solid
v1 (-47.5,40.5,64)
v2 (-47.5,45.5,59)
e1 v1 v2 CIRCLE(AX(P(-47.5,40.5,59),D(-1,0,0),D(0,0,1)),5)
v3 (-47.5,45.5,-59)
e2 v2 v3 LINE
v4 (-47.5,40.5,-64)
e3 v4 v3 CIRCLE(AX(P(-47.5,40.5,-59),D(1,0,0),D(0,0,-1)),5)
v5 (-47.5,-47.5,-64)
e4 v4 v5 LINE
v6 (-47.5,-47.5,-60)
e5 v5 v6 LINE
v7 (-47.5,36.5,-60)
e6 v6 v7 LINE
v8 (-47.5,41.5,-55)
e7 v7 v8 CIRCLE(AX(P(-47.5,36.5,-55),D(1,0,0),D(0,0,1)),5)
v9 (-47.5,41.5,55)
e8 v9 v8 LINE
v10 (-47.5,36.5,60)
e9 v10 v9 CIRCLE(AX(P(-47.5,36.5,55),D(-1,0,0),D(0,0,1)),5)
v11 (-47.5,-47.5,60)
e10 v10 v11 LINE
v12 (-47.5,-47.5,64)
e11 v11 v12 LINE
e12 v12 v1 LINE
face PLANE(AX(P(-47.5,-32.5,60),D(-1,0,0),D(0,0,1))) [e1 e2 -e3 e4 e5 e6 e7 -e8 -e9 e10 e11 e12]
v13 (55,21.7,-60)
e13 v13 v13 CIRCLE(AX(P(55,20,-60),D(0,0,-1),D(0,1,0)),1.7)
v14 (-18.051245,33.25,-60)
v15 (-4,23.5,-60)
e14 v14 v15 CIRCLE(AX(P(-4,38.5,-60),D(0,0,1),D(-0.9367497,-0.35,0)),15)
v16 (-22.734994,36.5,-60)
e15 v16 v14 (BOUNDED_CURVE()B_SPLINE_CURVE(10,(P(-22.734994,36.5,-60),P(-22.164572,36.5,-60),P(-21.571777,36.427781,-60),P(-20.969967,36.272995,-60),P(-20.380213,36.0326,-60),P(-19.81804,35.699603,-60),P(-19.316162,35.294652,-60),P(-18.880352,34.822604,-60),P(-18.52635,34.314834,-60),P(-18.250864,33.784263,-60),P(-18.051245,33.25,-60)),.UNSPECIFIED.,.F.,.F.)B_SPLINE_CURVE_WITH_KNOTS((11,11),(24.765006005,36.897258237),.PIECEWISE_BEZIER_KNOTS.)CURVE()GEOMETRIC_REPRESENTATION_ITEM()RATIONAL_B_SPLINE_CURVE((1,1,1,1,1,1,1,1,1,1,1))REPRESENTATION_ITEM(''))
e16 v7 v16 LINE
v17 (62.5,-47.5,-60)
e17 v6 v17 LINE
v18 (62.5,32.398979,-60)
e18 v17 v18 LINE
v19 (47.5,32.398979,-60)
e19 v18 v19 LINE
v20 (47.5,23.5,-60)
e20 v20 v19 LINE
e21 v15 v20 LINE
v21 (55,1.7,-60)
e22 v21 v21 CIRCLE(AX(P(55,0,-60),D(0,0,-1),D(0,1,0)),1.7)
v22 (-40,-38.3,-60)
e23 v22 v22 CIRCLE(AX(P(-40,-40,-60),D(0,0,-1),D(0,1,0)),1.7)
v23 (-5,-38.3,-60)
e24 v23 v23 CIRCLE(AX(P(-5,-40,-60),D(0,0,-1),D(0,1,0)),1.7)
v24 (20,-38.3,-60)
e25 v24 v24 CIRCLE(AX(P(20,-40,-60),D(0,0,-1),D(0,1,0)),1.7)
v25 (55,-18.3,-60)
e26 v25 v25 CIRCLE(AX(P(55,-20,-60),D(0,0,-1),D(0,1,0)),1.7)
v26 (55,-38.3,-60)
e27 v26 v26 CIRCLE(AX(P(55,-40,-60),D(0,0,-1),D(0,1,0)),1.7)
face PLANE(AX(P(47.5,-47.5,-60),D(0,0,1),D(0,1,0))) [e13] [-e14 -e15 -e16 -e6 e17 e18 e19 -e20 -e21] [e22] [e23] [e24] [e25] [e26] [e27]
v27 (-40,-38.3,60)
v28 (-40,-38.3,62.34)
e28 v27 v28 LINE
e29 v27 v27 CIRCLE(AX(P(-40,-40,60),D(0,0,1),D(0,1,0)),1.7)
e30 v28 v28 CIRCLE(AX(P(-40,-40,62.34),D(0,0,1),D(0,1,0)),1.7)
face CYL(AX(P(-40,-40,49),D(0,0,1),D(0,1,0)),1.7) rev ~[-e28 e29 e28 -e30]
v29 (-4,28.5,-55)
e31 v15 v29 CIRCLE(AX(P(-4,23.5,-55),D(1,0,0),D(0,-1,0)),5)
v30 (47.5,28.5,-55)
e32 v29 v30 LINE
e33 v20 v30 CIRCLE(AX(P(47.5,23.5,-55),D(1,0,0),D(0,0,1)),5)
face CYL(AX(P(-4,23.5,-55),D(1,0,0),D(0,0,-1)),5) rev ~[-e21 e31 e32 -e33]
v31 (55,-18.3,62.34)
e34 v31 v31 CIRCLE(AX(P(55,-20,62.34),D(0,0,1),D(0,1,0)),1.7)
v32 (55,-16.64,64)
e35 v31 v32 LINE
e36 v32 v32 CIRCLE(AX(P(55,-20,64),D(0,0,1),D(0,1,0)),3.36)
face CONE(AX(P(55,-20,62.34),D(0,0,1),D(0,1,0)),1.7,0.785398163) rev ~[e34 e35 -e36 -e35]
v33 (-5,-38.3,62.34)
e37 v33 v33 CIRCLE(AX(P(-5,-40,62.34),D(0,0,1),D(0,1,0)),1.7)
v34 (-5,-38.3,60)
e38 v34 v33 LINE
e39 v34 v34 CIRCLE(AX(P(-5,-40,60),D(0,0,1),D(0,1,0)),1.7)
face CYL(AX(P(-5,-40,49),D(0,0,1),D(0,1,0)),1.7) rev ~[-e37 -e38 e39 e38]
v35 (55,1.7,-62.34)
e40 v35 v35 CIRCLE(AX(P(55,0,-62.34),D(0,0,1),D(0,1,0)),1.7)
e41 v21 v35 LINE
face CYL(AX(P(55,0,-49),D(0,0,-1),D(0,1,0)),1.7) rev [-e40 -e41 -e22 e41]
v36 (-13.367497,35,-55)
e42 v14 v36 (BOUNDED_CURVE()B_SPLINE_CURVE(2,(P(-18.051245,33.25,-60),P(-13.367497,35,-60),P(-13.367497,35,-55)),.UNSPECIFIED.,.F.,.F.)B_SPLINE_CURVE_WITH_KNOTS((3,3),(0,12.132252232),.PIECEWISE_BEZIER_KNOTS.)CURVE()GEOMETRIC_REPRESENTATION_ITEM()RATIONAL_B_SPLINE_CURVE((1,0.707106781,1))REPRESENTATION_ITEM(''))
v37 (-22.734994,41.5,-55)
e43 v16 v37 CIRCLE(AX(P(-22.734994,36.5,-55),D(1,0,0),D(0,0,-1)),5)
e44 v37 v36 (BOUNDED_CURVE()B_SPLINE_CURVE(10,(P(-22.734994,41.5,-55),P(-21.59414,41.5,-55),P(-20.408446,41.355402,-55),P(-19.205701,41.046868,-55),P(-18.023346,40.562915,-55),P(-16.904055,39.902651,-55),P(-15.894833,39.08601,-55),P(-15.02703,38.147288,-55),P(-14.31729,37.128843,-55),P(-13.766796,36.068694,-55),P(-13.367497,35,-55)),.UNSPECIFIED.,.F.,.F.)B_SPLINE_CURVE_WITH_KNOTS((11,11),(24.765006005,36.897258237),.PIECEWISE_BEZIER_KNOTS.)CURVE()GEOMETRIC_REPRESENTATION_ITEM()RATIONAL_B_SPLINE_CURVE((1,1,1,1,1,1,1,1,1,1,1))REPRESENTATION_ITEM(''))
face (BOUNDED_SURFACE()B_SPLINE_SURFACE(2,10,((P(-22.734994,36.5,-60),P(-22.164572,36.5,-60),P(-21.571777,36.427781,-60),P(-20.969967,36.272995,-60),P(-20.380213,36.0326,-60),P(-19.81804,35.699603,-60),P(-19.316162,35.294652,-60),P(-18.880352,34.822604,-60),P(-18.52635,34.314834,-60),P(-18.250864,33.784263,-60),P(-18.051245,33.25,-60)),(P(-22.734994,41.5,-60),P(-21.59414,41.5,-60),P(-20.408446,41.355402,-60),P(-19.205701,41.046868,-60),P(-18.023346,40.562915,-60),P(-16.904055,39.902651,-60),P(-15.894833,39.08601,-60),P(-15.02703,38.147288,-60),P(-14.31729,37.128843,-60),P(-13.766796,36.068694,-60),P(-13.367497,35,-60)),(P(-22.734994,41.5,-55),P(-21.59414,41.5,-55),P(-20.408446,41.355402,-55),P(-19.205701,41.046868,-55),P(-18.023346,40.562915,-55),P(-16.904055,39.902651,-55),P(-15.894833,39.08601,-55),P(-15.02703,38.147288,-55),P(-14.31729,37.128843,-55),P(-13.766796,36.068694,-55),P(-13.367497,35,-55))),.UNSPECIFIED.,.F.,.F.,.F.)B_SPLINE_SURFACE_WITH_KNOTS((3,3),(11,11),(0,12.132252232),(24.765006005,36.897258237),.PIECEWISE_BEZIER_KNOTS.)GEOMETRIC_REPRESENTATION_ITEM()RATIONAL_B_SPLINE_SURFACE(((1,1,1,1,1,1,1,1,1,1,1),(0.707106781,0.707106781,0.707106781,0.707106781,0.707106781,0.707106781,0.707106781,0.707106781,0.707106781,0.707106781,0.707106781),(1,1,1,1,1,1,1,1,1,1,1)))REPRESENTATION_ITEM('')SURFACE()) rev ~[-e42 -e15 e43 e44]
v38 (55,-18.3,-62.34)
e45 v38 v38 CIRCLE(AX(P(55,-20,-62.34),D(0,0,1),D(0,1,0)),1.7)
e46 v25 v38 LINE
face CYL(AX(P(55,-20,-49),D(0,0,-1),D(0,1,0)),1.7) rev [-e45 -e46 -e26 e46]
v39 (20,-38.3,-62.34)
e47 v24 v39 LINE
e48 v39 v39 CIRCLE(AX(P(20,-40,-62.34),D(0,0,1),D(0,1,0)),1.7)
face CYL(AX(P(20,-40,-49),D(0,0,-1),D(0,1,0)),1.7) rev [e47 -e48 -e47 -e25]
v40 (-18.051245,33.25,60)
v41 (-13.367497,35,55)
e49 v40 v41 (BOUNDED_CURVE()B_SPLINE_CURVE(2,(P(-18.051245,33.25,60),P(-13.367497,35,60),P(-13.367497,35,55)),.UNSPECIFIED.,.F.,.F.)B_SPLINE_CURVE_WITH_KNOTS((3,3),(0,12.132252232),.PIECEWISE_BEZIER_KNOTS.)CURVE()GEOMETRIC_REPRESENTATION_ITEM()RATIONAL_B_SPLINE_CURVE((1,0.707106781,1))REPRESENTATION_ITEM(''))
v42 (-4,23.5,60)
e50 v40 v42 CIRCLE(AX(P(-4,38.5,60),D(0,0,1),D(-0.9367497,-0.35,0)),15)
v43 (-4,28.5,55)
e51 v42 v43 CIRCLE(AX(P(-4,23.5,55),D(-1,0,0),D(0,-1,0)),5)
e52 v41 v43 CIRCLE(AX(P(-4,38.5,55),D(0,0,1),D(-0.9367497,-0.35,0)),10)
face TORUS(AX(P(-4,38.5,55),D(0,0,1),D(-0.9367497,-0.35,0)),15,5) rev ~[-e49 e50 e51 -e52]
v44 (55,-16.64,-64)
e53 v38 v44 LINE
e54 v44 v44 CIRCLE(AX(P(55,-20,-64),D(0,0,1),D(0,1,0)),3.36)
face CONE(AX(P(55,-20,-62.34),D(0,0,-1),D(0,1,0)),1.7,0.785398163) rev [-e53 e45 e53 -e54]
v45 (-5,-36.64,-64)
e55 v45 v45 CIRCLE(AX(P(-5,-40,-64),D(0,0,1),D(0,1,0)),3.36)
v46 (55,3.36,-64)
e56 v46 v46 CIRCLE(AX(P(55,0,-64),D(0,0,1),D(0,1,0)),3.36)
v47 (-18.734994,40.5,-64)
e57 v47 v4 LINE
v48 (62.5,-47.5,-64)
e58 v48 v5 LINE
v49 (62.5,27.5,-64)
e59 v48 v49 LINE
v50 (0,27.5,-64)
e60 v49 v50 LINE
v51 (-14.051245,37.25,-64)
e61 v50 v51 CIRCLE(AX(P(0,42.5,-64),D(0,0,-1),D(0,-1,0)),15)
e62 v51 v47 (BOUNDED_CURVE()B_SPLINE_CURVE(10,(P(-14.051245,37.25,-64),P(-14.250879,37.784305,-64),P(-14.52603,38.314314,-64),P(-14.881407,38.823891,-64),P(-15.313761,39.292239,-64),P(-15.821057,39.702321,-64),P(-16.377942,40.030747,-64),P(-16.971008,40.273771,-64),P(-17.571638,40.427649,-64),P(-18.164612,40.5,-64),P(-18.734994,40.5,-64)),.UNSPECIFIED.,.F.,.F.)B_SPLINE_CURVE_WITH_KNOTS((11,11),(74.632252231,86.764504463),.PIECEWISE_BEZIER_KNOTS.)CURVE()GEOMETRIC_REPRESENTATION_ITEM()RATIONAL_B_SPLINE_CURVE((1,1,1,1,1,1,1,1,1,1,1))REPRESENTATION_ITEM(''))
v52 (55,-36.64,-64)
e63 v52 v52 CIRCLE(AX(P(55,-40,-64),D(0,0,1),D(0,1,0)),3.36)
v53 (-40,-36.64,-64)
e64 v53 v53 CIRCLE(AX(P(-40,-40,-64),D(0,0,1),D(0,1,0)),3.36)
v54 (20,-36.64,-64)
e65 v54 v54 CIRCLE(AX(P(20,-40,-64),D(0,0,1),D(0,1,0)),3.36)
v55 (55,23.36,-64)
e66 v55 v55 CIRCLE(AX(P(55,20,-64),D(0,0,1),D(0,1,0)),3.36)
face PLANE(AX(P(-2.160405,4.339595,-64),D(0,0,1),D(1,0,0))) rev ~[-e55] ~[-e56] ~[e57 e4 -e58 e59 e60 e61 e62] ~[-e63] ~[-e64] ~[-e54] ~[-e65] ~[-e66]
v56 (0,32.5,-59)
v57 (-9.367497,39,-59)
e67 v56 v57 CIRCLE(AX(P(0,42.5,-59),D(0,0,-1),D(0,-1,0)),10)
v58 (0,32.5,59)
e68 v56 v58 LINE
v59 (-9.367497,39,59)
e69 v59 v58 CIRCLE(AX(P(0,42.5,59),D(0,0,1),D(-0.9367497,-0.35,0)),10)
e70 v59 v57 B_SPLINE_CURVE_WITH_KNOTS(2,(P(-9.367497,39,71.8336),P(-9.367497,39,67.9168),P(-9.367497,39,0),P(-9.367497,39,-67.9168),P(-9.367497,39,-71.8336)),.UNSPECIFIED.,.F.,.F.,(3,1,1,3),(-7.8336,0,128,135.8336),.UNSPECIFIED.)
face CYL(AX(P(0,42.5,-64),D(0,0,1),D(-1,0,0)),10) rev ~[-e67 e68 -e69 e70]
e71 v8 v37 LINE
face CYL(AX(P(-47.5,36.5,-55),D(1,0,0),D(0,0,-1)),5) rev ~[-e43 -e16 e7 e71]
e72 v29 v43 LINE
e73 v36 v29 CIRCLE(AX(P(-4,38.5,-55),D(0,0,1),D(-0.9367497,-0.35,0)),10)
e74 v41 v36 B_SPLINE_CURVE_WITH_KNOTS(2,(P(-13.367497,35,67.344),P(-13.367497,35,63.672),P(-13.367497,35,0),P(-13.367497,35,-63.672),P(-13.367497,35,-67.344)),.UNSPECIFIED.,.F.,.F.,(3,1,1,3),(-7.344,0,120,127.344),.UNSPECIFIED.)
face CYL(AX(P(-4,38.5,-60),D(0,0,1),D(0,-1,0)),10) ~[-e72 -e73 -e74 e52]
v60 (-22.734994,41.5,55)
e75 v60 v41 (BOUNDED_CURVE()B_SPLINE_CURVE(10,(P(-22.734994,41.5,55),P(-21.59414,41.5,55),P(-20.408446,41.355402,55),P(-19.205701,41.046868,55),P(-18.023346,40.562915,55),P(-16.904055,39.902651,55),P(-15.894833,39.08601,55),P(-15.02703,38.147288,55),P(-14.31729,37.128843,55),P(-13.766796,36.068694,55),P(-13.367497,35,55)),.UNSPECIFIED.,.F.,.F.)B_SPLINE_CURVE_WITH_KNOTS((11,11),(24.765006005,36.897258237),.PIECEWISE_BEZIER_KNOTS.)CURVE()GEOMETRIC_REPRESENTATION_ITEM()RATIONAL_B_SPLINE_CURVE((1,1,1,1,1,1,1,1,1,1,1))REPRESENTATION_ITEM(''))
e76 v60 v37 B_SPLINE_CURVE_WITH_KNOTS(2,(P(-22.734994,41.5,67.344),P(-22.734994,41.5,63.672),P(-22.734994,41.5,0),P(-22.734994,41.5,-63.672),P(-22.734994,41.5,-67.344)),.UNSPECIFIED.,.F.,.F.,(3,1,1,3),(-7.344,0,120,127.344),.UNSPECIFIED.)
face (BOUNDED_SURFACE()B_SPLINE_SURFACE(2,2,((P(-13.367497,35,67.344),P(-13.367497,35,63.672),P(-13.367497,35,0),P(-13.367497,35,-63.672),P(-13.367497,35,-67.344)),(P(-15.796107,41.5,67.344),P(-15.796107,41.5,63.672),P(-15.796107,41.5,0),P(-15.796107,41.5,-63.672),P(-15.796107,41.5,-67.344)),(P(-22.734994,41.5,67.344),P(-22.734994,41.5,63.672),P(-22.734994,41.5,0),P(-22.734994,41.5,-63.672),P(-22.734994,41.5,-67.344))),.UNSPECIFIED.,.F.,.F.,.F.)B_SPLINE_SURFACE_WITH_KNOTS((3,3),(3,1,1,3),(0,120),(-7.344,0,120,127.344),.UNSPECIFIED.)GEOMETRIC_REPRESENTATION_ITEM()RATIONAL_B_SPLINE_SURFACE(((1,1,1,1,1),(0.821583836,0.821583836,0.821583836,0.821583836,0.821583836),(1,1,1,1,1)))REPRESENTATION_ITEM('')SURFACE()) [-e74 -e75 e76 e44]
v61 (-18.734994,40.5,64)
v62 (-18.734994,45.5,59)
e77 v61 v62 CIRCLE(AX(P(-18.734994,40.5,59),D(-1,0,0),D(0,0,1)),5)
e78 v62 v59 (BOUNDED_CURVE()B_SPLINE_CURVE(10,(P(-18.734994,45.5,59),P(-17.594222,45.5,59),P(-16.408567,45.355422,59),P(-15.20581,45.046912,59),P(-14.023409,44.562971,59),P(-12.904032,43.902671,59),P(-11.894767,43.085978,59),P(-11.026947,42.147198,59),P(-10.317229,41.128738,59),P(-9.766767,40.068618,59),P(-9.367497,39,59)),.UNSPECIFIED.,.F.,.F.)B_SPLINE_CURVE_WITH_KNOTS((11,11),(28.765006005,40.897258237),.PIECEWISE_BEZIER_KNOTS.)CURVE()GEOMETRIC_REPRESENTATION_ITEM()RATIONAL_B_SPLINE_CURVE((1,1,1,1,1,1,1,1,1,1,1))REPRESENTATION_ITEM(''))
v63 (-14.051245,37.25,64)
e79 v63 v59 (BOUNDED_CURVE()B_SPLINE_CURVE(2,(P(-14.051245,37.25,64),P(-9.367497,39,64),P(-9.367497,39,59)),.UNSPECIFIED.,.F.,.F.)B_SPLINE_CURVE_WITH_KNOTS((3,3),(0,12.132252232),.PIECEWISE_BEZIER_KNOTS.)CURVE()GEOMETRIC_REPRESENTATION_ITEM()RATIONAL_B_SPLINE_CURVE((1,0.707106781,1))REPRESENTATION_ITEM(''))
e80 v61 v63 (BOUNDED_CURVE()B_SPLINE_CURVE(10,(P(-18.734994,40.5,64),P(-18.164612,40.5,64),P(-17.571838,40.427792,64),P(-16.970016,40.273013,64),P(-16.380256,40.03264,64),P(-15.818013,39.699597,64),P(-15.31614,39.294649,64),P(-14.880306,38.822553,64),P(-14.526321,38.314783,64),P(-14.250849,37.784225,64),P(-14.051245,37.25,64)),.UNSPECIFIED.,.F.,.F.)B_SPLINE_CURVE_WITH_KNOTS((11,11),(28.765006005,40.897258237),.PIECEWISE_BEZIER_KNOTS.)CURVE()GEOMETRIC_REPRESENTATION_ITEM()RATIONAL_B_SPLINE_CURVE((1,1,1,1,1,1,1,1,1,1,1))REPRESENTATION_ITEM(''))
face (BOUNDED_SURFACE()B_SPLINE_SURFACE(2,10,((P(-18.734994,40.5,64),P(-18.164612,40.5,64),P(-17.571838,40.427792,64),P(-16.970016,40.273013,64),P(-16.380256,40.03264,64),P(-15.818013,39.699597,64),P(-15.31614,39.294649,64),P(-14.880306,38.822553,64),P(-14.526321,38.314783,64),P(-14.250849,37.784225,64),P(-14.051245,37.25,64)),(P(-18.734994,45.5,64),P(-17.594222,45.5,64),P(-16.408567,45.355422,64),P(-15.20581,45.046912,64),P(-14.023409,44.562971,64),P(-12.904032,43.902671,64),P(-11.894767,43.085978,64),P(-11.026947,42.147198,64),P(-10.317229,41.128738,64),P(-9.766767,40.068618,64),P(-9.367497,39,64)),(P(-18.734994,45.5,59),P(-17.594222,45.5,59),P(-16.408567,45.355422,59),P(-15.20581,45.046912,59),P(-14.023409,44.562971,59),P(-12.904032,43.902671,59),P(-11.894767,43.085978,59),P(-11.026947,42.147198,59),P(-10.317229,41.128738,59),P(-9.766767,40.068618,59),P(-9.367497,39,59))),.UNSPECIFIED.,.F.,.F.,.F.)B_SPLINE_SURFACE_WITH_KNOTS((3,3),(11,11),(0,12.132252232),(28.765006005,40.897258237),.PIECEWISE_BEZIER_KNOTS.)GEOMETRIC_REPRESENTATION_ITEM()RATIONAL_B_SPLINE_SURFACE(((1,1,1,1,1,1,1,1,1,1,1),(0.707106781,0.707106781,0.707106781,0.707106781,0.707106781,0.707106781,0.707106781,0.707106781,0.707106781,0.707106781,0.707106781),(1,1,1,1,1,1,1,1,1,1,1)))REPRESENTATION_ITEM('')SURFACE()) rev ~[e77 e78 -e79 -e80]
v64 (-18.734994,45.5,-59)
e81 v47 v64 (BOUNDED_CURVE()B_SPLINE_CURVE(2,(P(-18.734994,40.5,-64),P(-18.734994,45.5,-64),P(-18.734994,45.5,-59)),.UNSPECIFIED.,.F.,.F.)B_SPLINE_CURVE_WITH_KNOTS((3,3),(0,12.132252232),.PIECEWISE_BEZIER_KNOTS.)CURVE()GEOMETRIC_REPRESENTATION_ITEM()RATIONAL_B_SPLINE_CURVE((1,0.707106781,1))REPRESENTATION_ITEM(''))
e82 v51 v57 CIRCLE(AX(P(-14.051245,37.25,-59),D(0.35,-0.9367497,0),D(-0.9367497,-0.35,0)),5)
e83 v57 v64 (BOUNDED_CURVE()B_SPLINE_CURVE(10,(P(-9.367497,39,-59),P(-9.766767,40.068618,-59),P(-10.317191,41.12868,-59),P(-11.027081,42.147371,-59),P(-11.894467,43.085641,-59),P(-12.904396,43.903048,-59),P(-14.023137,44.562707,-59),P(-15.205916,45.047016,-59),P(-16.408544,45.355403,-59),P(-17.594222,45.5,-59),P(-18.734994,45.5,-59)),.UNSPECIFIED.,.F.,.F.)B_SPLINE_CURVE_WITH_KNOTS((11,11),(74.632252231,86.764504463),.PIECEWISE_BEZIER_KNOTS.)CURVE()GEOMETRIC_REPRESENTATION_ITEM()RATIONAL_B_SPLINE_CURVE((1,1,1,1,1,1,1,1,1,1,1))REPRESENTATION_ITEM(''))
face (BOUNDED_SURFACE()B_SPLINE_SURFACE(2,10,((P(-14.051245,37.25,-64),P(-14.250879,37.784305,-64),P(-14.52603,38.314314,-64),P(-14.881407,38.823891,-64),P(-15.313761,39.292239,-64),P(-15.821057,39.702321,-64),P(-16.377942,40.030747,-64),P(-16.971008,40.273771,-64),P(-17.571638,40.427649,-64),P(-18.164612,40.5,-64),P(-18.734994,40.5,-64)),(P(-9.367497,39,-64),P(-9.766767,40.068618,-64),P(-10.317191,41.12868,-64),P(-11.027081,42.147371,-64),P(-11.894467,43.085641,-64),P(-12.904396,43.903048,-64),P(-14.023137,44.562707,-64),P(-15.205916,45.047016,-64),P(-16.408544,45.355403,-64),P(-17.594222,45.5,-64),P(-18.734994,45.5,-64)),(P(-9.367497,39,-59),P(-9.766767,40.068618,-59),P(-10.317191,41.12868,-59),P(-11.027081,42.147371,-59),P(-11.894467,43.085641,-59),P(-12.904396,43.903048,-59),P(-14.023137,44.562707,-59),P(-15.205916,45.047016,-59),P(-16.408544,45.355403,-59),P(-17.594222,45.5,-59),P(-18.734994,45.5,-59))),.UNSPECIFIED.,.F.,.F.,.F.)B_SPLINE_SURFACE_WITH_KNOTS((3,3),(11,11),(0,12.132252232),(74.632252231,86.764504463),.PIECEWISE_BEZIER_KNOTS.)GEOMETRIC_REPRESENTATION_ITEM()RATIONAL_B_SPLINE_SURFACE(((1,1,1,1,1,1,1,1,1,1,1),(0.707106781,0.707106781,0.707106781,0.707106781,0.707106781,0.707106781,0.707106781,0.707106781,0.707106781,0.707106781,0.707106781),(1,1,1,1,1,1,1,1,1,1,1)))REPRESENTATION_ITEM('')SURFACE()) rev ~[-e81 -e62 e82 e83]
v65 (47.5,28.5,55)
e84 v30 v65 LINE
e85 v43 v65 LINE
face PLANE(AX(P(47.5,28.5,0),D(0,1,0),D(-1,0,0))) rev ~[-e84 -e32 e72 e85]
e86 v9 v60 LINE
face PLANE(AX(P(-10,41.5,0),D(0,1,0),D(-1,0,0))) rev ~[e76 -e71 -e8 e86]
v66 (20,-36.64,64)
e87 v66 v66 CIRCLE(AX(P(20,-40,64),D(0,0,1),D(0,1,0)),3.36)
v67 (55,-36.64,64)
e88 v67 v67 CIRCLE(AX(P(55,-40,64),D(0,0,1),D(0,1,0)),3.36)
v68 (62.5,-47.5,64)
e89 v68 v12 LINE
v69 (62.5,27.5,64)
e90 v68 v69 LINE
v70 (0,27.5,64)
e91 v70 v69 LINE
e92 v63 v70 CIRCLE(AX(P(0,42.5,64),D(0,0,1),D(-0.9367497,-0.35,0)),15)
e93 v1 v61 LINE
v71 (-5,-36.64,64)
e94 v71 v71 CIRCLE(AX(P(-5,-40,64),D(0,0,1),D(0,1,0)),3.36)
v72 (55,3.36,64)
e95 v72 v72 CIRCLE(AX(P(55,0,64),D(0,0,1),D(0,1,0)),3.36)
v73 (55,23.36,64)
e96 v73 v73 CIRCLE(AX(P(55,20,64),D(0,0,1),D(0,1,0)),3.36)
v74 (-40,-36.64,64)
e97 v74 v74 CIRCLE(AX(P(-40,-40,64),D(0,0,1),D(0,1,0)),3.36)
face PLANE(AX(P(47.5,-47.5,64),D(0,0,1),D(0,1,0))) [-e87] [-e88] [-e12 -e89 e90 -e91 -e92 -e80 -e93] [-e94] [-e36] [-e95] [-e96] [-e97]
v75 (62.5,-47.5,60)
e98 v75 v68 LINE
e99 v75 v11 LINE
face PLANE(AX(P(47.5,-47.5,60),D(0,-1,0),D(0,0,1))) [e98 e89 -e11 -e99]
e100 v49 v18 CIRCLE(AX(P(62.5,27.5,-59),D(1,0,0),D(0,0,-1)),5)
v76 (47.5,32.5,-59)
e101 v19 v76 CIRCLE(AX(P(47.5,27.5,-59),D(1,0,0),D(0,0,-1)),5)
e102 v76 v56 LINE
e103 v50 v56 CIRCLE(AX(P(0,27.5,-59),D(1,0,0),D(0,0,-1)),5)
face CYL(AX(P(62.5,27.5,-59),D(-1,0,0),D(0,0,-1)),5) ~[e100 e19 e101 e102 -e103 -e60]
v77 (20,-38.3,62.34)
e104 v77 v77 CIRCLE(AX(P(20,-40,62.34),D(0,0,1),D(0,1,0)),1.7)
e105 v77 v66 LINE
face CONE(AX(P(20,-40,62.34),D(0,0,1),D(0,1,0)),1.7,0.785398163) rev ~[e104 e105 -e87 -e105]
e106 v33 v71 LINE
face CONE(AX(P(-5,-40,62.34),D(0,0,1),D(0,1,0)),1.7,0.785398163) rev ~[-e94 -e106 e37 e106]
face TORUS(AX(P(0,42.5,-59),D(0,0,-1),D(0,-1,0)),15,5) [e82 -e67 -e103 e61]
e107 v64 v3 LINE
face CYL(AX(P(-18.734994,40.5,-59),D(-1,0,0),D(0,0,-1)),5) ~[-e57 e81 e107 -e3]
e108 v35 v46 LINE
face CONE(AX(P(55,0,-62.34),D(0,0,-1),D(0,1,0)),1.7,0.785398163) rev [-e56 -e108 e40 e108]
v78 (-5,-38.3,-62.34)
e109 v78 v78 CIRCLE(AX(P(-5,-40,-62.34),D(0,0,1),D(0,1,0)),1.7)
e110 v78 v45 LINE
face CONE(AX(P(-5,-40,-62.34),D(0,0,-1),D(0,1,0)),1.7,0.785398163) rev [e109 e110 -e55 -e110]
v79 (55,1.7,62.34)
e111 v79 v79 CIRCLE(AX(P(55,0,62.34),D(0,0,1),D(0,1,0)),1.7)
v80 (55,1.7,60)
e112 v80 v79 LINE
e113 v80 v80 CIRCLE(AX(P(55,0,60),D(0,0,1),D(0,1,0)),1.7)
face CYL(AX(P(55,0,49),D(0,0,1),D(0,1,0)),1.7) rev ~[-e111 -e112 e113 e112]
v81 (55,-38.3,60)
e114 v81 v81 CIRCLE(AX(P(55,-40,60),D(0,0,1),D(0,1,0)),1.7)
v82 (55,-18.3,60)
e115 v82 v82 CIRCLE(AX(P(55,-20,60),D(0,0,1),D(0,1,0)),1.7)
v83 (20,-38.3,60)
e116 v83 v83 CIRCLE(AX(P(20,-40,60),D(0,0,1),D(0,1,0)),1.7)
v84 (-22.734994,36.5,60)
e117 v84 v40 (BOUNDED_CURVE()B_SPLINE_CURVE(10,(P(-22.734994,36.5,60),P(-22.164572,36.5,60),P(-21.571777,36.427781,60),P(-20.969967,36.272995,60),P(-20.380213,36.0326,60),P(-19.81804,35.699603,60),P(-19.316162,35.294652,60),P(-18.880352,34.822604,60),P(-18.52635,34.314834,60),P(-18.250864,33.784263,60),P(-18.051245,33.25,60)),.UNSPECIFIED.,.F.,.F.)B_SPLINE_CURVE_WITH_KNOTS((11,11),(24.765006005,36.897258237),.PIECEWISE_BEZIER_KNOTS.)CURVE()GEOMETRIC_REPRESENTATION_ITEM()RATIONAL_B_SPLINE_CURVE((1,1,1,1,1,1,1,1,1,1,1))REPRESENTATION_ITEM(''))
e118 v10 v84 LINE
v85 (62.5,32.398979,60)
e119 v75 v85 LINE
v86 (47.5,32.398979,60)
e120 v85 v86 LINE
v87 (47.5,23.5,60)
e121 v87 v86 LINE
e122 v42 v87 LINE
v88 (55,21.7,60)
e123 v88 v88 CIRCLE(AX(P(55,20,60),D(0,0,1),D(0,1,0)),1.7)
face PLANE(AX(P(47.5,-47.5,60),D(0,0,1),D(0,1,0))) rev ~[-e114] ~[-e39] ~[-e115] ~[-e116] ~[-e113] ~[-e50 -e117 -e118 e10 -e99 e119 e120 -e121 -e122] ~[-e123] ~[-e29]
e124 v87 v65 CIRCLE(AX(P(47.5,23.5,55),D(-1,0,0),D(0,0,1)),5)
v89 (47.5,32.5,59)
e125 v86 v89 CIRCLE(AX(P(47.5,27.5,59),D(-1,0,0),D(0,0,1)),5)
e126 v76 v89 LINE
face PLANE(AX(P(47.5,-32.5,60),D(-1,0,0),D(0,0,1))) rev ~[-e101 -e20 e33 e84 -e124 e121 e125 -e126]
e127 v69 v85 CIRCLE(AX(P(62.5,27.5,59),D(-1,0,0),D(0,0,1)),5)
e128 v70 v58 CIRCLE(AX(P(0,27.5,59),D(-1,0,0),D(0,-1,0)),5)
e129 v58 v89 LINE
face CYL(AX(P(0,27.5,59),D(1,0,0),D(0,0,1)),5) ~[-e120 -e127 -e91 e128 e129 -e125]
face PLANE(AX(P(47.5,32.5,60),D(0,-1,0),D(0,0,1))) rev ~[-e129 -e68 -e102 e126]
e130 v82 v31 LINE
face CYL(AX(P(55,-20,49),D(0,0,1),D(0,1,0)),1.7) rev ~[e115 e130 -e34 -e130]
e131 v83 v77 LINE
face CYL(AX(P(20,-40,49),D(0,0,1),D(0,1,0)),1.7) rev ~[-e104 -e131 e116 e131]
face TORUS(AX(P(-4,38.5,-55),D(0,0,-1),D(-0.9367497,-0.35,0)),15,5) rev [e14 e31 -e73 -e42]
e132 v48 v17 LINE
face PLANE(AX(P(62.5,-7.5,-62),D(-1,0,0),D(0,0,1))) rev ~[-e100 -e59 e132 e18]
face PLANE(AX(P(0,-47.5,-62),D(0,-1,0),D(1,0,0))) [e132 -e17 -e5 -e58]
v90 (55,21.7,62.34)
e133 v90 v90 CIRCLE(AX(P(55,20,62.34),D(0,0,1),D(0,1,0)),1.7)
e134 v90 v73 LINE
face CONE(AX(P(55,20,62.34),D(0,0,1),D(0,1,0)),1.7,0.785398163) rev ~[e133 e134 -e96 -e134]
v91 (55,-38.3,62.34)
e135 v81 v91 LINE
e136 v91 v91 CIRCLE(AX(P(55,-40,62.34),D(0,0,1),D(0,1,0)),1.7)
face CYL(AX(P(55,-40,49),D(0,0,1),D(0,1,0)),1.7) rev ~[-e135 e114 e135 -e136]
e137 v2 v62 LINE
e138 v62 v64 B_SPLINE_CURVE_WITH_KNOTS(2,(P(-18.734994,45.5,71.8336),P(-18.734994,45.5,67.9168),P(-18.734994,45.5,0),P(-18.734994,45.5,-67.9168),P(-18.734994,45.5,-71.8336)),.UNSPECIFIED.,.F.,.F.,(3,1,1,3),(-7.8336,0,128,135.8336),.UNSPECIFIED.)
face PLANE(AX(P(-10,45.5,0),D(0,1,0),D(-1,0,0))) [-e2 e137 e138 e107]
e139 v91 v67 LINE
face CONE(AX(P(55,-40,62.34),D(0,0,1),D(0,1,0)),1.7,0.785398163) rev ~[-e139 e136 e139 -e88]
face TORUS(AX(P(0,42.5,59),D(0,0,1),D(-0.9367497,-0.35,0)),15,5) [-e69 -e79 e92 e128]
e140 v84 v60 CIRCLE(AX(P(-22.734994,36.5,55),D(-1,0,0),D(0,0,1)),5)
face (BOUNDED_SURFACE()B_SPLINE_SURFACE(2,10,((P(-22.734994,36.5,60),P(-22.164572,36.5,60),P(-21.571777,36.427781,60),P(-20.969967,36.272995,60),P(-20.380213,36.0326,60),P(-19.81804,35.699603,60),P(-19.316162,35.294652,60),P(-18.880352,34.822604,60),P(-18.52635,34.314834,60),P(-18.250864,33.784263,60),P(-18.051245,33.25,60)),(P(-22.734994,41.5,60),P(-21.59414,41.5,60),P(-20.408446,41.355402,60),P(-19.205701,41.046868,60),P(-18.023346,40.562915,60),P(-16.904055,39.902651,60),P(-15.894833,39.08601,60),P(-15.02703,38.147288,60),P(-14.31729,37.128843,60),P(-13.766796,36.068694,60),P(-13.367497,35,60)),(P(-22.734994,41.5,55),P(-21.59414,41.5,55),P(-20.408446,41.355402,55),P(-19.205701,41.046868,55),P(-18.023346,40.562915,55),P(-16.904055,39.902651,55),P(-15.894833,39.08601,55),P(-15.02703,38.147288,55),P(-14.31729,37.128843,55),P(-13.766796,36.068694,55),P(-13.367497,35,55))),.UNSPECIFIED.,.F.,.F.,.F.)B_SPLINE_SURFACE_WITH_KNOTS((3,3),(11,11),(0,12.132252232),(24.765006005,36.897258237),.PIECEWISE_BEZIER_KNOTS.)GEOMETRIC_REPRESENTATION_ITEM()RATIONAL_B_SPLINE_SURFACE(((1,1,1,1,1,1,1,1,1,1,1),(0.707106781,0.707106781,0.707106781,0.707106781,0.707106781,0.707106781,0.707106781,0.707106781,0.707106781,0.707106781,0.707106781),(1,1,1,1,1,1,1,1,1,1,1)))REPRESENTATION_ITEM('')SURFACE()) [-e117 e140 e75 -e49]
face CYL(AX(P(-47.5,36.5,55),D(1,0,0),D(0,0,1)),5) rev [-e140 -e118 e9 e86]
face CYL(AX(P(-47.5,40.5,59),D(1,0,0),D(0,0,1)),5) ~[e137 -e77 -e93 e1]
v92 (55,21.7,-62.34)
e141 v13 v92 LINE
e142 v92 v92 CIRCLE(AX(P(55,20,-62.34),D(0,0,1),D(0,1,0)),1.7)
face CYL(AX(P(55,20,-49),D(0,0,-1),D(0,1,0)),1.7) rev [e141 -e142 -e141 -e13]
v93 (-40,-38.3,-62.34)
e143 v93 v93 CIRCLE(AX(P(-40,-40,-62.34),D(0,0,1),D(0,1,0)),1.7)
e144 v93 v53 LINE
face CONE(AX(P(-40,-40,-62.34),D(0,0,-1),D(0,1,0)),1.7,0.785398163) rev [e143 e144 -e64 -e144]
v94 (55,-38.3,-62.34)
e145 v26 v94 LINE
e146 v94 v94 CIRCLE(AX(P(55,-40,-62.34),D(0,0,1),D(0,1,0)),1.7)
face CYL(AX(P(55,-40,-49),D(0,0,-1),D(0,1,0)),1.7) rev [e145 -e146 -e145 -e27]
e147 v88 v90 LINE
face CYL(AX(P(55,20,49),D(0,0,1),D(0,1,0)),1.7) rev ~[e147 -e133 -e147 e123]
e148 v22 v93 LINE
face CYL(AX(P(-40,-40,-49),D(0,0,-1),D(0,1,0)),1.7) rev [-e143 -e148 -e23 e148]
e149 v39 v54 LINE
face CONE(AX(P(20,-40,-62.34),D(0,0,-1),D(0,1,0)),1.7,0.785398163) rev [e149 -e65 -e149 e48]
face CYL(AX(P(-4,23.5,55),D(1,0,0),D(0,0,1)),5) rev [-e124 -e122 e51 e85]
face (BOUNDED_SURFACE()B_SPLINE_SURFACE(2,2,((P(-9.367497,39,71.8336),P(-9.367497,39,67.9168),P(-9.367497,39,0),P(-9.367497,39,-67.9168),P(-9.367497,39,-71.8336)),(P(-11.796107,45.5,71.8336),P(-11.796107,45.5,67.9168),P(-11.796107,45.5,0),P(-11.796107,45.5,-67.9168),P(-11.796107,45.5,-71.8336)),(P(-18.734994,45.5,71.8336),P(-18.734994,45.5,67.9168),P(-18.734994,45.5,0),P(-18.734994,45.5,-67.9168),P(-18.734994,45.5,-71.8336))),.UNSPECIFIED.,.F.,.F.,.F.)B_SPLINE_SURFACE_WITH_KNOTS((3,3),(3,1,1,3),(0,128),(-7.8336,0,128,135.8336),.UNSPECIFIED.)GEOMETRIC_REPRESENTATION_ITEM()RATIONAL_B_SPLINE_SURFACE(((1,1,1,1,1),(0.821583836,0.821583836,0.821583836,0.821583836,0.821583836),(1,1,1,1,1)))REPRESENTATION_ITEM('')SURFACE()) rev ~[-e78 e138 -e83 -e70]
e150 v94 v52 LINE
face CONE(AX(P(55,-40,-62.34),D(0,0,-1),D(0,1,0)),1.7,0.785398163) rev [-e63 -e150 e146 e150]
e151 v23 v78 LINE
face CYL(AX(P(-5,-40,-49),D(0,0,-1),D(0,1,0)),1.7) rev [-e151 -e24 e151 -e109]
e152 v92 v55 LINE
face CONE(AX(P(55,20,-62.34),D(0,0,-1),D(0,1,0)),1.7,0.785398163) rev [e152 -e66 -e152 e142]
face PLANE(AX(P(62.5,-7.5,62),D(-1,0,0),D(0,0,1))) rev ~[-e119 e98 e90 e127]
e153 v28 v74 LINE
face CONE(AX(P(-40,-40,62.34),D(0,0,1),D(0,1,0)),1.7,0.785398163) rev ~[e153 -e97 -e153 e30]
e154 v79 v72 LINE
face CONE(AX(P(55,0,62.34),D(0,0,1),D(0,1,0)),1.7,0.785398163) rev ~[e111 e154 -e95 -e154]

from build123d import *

# Parameters (mm, degrees)
BOSS_EXTRUDE1_DEPTH          = 64
SHELL1_T                     = -4
FILLET1_R                    = 10
FILLET2_R                    = 10
FILLET4_R                    = 10
FILLET6_R                    = 10
SKETCH3_W                    = 95
SKETCH3_H                    = 4
BOSS_EXTRUDE4_DEPTH          = 15
SKETCH4_W                    = 4
SKETCH4_H                    = 80
BOSS_EXTRUDE5_DEPTH          = 15
FILLET7_R                    = 5
FILLET8_R                    = 5
CSK_FOR_M3_SFHCS1_AT_2_COUNT = 2
CSK_FOR_M3_SFHCS1_AT_2_PITCH = 35
CSK_FOR_M3_SFHCS1_AT_3_COUNT = 2
CSK_FOR_M3_SFHCS1_AT_3_PITCH = 60
CSK_FOR_M3_SFHCS1_AT_4_COUNT = 2
CSK_FOR_M3_SFHCS1_AT_4_PITCH = 95
CSK_FOR_M3_SFHCS1_AT_5_COUNT = 2
CSK_FOR_M3_SFHCS1_AT_5_PITCH = 97.082439195
CSK_FOR_M3_SFHCS1_AT_6_COUNT = 2
CSK_FOR_M3_SFHCS1_AT_6_PITCH = 103.07764064
CSK_FOR_M3_SFHCS1_AT_7_COUNT = 2
CSK_FOR_M3_SFHCS1_AT_7_PITCH = 112.361025271


with BuildPart() as part:
    # Sketch1 → Boss-Extrude1 (new, symmetric)
    with BuildSketch(Plane.XY):
        Polygon((-47.5, -32.5), (47.5, -32.5), (47.5, 32.5), (-10, 32.5), (-10, 45.5), (-47.5, 45.5), (-47.5, 32.5), align=None)
    extrude(amount=BOSS_EXTRUDE1_DEPTH, both=True)

    # Shell1
    shell1_openings = [part.faces().sort_by_distance(p)[0] for p in [
        (47.5, 0, 0),
        (-47.5, 6.5, 0),
        (0, -32.5, 0),
    ]]
    offset(amount=SHELL1_T, openings=shell1_openings, kind=Kind.INTERSECTION)

    # Fillet1
    fillet1_edges = [part.edges().sort_by_distance(p)[0] for p in [
        (-10, 32.5, 0),
    ]]
    fillet(fillet1_edges, radius=FILLET1_R)

    # Fillet2
    fillet2_edges = [part.edges().sort_by_distance(p)[0] for p in [
        (-10, 45.5, 0),
    ]]
    fillet(fillet2_edges, radius=FILLET2_R)

    # Fillet4
    fillet4_edges = [part.edges().sort_by_distance(p)[0] for p in [
        (-14, 28.5, 0),
    ]]
    fillet(fillet4_edges, radius=FILLET4_R)

    # Fillet6
    fillet6_edges = [part.edges().sort_by_distance(p)[0] for p in [
        (-14, 41.5, 0),
    ]]
    fillet(fillet6_edges, radius=FILLET6_R)

    # Sketch3 → Boss-Extrude4 (add)
    with BuildSketch(Plane.XZ.offset(32.5)):
        with Locations((0, 62)):
            Rectangle(SKETCH3_W, SKETCH3_H)
        with Locations((0, -62)):
            Rectangle(SKETCH3_W, SKETCH3_H)
    extrude(amount=BOSS_EXTRUDE4_DEPTH)

    # Sketch4 → Boss-Extrude5 (add)
    with BuildSketch(Plane.ZY.offset(-47.5)):
        with Locations((62, -7.5)):
            Rectangle(SKETCH4_W, SKETCH4_H)
        with Locations((-62, -7.5)):
            Rectangle(SKETCH4_W, SKETCH4_H)
    extrude(amount=-BOSS_EXTRUDE5_DEPTH)

    # Fillet7
    fillet7_edges = [part.edges().sort_by_distance(p)[0] for p in [
        (21.75, 28.5, 60),
        (-9.700877125, 30.284161637, 60),
        (21.75, 28.5, -60),
        (-9.700877125, 30.284161637, -60),
        (-35.117496998, 41.5, 60),
        (-35.117496998, 41.5, -60),
        (-17.03411687, 39.715838363, 60),
        (-17.03411687, 39.715838363, -60),
    ]]
    fillet(fillet7_edges, radius=FILLET7_R)

    # Fillet8
    fillet8_edges = [part.edges().sort_by_distance(p)[0] for p in [
        (-33.117496998, 45.5, -64),
        (-5.700877125, 34.284161637, -64),
        (-33.117496998, 45.5, 64),
        (-5.700877125, 34.284161637, 64),
        (31.25, 32.5, -64),
        (31.25, 32.5, 64),
        (-13.03411687, 43.715838363, -64),
        (-13.03411687, 43.715838363, 64),
    ]]
    fillet(fillet8_edges, radius=FILLET8_R)

    # Sketch6 → CSK for M3 SFHCS1 (revolve, cut)
    with BuildSketch(Plane(origin=(-40, -40, -64), x_dir=(0, 1, 0), z_dir=(1, 0, 0))):
        Polygon((0, 0), (0, 16.021463052), (1.7, 15), (1.7, 1.66), (3.36, 0), align=None)
    csk_for_m3_sfhcs1 = revolve(axis=Axis((-40, -40, -70.35), (0, 0, 1)), mode=Mode.SUBTRACT)

    # CSK for M3 SFHCS1 at 2: CSK for M3 SFHCS1 ×2
    with Locations(*[(i * CSK_FOR_M3_SFHCS1_AT_2_PITCH, 0, 0) for i in range(1, CSK_FOR_M3_SFHCS1_AT_2_COUNT)]):
        add(csk_for_m3_sfhcs1, mode=Mode.SUBTRACT)

    # CSK for M3 SFHCS1 at 3: CSK for M3 SFHCS1 ×2
    with Locations(*[(i * CSK_FOR_M3_SFHCS1_AT_3_PITCH, 0, 0) for i in range(1, CSK_FOR_M3_SFHCS1_AT_3_COUNT)]):
        add(csk_for_m3_sfhcs1, mode=Mode.SUBTRACT)

    # CSK for M3 SFHCS1 at 4: CSK for M3 SFHCS1 ×2
    with Locations(*[(i * CSK_FOR_M3_SFHCS1_AT_4_PITCH, 0, 0) for i in range(1, CSK_FOR_M3_SFHCS1_AT_4_COUNT)]):
        add(csk_for_m3_sfhcs1, mode=Mode.SUBTRACT)

    # CSK for M3 SFHCS1 at 5: CSK for M3 SFHCS1 ×2
    with Locations(*[Vector(0.978549784986749, 0.2060104810498419, 0) * (i * CSK_FOR_M3_SFHCS1_AT_5_PITCH) for i in range(1, CSK_FOR_M3_SFHCS1_AT_5_COUNT)]):
        add(csk_for_m3_sfhcs1, mode=Mode.SUBTRACT)

    # CSK for M3 SFHCS1 at 6: CSK for M3 SFHCS1 ×2
    with Locations(*[Vector(0.9216353751380653, 0.3880570000581328, 0) * (i * CSK_FOR_M3_SFHCS1_AT_6_PITCH) for i in range(1, CSK_FOR_M3_SFHCS1_AT_6_COUNT)]):
        add(csk_for_m3_sfhcs1, mode=Mode.SUBTRACT)

    # CSK for M3 SFHCS1 at 7: CSK for M3 SFHCS1 ×2
    with Locations(*[Vector(0.8454889030309711, 0.5339929913879818, 0) * (i * CSK_FOR_M3_SFHCS1_AT_7_PITCH) for i in range(1, CSK_FOR_M3_SFHCS1_AT_7_COUNT)]):
        add(csk_for_m3_sfhcs1, mode=Mode.SUBTRACT)

    # Mirror1: CSK for M3 SFHCS1 across plane
    add(csk_for_m3_sfhcs1.mirror(Plane.XY), mode=Mode.SUBTRACT)

    # Mirror1 copy 1 sketch → Mirror1 copy 1 (revolve, cut)
    with BuildSketch(Plane(origin=(-5, -40, 64), x_dir=(0, 1, 0), z_dir=(1, 0, 0))):
        Polygon((0, 0), (0, -16.021463052), (1.7, -15), (1.7, -1.66), (3.36, 0), align=None)
    revolve(axis=Axis((-5, -40, 70.35), (0, 0, 1)), mode=Mode.SUBTRACT)

    # Mirror1 copy 2 sketch → Mirror1 copy 2 (revolve, cut)
    with BuildSketch(Plane(origin=(20, -40, 64), x_dir=(0, 1, 0), z_dir=(1, 0, 0))):
        Polygon((0, 0), (0, -16.021463052), (1.7, -15), (1.7, -1.66), (3.36, 0), align=None)
    revolve(axis=Axis((20, -40, 70.35), (0, 0, 1)), mode=Mode.SUBTRACT)

    # Mirror1 copy 3 sketch → Mirror1 copy 3 (revolve, cut)
    with BuildSketch(Plane(origin=(55, -40, 64), x_dir=(0, 1, 0), z_dir=(1, 0, 0))):
        Polygon((0, 0), (0, -16.021463052), (1.7, -15), (1.7, -1.66), (3.36, 0), align=None)
    revolve(axis=Axis((55, -40, 70.35), (0, 0, 1)), mode=Mode.SUBTRACT)

    # Mirror1 copy 4 sketch → Mirror1 copy 4 (revolve, cut)
    with BuildSketch(Plane(origin=(55, -20, 64), x_dir=(0, 1, 0), z_dir=(1, 0, 0))):
        Polygon((0, 0), (0, -16.021463052), (1.7, -15), (1.7, -1.66), (3.36, 0), align=None)
    revolve(axis=Axis((55, -20, 70.35), (0, 0, 1)), mode=Mode.SUBTRACT)

    # Mirror1 copy 5 sketch → Mirror1 copy 5 (revolve, cut)
    with BuildSketch(Plane(origin=(55, 0, 64), x_dir=(0, 1, 0), z_dir=(1, 0, 0))):
        Polygon((0, 0), (0, -16.021463052), (1.7, -15), (1.7, -1.66), (3.36, 0), align=None)
    revolve(axis=Axis((55, 0, 70.35), (0, 0, 1)), mode=Mode.SUBTRACT)

    # Mirror1 copy 6 sketch → Mirror1 copy 6 (revolve, cut)
    with BuildSketch(Plane(origin=(55, 20, 64), x_dir=(0, 1, 0), z_dir=(1, 0, 0))):
        Polygon((0, 0), (0, -16.021463052), (1.7, -15), (1.7, -1.66), (3.36, 0), align=None)
    revolve(axis=Axis((55, 20, 70.35), (0, 0, 1)), mode=Mode.SUBTRACT)


solid = part.part
